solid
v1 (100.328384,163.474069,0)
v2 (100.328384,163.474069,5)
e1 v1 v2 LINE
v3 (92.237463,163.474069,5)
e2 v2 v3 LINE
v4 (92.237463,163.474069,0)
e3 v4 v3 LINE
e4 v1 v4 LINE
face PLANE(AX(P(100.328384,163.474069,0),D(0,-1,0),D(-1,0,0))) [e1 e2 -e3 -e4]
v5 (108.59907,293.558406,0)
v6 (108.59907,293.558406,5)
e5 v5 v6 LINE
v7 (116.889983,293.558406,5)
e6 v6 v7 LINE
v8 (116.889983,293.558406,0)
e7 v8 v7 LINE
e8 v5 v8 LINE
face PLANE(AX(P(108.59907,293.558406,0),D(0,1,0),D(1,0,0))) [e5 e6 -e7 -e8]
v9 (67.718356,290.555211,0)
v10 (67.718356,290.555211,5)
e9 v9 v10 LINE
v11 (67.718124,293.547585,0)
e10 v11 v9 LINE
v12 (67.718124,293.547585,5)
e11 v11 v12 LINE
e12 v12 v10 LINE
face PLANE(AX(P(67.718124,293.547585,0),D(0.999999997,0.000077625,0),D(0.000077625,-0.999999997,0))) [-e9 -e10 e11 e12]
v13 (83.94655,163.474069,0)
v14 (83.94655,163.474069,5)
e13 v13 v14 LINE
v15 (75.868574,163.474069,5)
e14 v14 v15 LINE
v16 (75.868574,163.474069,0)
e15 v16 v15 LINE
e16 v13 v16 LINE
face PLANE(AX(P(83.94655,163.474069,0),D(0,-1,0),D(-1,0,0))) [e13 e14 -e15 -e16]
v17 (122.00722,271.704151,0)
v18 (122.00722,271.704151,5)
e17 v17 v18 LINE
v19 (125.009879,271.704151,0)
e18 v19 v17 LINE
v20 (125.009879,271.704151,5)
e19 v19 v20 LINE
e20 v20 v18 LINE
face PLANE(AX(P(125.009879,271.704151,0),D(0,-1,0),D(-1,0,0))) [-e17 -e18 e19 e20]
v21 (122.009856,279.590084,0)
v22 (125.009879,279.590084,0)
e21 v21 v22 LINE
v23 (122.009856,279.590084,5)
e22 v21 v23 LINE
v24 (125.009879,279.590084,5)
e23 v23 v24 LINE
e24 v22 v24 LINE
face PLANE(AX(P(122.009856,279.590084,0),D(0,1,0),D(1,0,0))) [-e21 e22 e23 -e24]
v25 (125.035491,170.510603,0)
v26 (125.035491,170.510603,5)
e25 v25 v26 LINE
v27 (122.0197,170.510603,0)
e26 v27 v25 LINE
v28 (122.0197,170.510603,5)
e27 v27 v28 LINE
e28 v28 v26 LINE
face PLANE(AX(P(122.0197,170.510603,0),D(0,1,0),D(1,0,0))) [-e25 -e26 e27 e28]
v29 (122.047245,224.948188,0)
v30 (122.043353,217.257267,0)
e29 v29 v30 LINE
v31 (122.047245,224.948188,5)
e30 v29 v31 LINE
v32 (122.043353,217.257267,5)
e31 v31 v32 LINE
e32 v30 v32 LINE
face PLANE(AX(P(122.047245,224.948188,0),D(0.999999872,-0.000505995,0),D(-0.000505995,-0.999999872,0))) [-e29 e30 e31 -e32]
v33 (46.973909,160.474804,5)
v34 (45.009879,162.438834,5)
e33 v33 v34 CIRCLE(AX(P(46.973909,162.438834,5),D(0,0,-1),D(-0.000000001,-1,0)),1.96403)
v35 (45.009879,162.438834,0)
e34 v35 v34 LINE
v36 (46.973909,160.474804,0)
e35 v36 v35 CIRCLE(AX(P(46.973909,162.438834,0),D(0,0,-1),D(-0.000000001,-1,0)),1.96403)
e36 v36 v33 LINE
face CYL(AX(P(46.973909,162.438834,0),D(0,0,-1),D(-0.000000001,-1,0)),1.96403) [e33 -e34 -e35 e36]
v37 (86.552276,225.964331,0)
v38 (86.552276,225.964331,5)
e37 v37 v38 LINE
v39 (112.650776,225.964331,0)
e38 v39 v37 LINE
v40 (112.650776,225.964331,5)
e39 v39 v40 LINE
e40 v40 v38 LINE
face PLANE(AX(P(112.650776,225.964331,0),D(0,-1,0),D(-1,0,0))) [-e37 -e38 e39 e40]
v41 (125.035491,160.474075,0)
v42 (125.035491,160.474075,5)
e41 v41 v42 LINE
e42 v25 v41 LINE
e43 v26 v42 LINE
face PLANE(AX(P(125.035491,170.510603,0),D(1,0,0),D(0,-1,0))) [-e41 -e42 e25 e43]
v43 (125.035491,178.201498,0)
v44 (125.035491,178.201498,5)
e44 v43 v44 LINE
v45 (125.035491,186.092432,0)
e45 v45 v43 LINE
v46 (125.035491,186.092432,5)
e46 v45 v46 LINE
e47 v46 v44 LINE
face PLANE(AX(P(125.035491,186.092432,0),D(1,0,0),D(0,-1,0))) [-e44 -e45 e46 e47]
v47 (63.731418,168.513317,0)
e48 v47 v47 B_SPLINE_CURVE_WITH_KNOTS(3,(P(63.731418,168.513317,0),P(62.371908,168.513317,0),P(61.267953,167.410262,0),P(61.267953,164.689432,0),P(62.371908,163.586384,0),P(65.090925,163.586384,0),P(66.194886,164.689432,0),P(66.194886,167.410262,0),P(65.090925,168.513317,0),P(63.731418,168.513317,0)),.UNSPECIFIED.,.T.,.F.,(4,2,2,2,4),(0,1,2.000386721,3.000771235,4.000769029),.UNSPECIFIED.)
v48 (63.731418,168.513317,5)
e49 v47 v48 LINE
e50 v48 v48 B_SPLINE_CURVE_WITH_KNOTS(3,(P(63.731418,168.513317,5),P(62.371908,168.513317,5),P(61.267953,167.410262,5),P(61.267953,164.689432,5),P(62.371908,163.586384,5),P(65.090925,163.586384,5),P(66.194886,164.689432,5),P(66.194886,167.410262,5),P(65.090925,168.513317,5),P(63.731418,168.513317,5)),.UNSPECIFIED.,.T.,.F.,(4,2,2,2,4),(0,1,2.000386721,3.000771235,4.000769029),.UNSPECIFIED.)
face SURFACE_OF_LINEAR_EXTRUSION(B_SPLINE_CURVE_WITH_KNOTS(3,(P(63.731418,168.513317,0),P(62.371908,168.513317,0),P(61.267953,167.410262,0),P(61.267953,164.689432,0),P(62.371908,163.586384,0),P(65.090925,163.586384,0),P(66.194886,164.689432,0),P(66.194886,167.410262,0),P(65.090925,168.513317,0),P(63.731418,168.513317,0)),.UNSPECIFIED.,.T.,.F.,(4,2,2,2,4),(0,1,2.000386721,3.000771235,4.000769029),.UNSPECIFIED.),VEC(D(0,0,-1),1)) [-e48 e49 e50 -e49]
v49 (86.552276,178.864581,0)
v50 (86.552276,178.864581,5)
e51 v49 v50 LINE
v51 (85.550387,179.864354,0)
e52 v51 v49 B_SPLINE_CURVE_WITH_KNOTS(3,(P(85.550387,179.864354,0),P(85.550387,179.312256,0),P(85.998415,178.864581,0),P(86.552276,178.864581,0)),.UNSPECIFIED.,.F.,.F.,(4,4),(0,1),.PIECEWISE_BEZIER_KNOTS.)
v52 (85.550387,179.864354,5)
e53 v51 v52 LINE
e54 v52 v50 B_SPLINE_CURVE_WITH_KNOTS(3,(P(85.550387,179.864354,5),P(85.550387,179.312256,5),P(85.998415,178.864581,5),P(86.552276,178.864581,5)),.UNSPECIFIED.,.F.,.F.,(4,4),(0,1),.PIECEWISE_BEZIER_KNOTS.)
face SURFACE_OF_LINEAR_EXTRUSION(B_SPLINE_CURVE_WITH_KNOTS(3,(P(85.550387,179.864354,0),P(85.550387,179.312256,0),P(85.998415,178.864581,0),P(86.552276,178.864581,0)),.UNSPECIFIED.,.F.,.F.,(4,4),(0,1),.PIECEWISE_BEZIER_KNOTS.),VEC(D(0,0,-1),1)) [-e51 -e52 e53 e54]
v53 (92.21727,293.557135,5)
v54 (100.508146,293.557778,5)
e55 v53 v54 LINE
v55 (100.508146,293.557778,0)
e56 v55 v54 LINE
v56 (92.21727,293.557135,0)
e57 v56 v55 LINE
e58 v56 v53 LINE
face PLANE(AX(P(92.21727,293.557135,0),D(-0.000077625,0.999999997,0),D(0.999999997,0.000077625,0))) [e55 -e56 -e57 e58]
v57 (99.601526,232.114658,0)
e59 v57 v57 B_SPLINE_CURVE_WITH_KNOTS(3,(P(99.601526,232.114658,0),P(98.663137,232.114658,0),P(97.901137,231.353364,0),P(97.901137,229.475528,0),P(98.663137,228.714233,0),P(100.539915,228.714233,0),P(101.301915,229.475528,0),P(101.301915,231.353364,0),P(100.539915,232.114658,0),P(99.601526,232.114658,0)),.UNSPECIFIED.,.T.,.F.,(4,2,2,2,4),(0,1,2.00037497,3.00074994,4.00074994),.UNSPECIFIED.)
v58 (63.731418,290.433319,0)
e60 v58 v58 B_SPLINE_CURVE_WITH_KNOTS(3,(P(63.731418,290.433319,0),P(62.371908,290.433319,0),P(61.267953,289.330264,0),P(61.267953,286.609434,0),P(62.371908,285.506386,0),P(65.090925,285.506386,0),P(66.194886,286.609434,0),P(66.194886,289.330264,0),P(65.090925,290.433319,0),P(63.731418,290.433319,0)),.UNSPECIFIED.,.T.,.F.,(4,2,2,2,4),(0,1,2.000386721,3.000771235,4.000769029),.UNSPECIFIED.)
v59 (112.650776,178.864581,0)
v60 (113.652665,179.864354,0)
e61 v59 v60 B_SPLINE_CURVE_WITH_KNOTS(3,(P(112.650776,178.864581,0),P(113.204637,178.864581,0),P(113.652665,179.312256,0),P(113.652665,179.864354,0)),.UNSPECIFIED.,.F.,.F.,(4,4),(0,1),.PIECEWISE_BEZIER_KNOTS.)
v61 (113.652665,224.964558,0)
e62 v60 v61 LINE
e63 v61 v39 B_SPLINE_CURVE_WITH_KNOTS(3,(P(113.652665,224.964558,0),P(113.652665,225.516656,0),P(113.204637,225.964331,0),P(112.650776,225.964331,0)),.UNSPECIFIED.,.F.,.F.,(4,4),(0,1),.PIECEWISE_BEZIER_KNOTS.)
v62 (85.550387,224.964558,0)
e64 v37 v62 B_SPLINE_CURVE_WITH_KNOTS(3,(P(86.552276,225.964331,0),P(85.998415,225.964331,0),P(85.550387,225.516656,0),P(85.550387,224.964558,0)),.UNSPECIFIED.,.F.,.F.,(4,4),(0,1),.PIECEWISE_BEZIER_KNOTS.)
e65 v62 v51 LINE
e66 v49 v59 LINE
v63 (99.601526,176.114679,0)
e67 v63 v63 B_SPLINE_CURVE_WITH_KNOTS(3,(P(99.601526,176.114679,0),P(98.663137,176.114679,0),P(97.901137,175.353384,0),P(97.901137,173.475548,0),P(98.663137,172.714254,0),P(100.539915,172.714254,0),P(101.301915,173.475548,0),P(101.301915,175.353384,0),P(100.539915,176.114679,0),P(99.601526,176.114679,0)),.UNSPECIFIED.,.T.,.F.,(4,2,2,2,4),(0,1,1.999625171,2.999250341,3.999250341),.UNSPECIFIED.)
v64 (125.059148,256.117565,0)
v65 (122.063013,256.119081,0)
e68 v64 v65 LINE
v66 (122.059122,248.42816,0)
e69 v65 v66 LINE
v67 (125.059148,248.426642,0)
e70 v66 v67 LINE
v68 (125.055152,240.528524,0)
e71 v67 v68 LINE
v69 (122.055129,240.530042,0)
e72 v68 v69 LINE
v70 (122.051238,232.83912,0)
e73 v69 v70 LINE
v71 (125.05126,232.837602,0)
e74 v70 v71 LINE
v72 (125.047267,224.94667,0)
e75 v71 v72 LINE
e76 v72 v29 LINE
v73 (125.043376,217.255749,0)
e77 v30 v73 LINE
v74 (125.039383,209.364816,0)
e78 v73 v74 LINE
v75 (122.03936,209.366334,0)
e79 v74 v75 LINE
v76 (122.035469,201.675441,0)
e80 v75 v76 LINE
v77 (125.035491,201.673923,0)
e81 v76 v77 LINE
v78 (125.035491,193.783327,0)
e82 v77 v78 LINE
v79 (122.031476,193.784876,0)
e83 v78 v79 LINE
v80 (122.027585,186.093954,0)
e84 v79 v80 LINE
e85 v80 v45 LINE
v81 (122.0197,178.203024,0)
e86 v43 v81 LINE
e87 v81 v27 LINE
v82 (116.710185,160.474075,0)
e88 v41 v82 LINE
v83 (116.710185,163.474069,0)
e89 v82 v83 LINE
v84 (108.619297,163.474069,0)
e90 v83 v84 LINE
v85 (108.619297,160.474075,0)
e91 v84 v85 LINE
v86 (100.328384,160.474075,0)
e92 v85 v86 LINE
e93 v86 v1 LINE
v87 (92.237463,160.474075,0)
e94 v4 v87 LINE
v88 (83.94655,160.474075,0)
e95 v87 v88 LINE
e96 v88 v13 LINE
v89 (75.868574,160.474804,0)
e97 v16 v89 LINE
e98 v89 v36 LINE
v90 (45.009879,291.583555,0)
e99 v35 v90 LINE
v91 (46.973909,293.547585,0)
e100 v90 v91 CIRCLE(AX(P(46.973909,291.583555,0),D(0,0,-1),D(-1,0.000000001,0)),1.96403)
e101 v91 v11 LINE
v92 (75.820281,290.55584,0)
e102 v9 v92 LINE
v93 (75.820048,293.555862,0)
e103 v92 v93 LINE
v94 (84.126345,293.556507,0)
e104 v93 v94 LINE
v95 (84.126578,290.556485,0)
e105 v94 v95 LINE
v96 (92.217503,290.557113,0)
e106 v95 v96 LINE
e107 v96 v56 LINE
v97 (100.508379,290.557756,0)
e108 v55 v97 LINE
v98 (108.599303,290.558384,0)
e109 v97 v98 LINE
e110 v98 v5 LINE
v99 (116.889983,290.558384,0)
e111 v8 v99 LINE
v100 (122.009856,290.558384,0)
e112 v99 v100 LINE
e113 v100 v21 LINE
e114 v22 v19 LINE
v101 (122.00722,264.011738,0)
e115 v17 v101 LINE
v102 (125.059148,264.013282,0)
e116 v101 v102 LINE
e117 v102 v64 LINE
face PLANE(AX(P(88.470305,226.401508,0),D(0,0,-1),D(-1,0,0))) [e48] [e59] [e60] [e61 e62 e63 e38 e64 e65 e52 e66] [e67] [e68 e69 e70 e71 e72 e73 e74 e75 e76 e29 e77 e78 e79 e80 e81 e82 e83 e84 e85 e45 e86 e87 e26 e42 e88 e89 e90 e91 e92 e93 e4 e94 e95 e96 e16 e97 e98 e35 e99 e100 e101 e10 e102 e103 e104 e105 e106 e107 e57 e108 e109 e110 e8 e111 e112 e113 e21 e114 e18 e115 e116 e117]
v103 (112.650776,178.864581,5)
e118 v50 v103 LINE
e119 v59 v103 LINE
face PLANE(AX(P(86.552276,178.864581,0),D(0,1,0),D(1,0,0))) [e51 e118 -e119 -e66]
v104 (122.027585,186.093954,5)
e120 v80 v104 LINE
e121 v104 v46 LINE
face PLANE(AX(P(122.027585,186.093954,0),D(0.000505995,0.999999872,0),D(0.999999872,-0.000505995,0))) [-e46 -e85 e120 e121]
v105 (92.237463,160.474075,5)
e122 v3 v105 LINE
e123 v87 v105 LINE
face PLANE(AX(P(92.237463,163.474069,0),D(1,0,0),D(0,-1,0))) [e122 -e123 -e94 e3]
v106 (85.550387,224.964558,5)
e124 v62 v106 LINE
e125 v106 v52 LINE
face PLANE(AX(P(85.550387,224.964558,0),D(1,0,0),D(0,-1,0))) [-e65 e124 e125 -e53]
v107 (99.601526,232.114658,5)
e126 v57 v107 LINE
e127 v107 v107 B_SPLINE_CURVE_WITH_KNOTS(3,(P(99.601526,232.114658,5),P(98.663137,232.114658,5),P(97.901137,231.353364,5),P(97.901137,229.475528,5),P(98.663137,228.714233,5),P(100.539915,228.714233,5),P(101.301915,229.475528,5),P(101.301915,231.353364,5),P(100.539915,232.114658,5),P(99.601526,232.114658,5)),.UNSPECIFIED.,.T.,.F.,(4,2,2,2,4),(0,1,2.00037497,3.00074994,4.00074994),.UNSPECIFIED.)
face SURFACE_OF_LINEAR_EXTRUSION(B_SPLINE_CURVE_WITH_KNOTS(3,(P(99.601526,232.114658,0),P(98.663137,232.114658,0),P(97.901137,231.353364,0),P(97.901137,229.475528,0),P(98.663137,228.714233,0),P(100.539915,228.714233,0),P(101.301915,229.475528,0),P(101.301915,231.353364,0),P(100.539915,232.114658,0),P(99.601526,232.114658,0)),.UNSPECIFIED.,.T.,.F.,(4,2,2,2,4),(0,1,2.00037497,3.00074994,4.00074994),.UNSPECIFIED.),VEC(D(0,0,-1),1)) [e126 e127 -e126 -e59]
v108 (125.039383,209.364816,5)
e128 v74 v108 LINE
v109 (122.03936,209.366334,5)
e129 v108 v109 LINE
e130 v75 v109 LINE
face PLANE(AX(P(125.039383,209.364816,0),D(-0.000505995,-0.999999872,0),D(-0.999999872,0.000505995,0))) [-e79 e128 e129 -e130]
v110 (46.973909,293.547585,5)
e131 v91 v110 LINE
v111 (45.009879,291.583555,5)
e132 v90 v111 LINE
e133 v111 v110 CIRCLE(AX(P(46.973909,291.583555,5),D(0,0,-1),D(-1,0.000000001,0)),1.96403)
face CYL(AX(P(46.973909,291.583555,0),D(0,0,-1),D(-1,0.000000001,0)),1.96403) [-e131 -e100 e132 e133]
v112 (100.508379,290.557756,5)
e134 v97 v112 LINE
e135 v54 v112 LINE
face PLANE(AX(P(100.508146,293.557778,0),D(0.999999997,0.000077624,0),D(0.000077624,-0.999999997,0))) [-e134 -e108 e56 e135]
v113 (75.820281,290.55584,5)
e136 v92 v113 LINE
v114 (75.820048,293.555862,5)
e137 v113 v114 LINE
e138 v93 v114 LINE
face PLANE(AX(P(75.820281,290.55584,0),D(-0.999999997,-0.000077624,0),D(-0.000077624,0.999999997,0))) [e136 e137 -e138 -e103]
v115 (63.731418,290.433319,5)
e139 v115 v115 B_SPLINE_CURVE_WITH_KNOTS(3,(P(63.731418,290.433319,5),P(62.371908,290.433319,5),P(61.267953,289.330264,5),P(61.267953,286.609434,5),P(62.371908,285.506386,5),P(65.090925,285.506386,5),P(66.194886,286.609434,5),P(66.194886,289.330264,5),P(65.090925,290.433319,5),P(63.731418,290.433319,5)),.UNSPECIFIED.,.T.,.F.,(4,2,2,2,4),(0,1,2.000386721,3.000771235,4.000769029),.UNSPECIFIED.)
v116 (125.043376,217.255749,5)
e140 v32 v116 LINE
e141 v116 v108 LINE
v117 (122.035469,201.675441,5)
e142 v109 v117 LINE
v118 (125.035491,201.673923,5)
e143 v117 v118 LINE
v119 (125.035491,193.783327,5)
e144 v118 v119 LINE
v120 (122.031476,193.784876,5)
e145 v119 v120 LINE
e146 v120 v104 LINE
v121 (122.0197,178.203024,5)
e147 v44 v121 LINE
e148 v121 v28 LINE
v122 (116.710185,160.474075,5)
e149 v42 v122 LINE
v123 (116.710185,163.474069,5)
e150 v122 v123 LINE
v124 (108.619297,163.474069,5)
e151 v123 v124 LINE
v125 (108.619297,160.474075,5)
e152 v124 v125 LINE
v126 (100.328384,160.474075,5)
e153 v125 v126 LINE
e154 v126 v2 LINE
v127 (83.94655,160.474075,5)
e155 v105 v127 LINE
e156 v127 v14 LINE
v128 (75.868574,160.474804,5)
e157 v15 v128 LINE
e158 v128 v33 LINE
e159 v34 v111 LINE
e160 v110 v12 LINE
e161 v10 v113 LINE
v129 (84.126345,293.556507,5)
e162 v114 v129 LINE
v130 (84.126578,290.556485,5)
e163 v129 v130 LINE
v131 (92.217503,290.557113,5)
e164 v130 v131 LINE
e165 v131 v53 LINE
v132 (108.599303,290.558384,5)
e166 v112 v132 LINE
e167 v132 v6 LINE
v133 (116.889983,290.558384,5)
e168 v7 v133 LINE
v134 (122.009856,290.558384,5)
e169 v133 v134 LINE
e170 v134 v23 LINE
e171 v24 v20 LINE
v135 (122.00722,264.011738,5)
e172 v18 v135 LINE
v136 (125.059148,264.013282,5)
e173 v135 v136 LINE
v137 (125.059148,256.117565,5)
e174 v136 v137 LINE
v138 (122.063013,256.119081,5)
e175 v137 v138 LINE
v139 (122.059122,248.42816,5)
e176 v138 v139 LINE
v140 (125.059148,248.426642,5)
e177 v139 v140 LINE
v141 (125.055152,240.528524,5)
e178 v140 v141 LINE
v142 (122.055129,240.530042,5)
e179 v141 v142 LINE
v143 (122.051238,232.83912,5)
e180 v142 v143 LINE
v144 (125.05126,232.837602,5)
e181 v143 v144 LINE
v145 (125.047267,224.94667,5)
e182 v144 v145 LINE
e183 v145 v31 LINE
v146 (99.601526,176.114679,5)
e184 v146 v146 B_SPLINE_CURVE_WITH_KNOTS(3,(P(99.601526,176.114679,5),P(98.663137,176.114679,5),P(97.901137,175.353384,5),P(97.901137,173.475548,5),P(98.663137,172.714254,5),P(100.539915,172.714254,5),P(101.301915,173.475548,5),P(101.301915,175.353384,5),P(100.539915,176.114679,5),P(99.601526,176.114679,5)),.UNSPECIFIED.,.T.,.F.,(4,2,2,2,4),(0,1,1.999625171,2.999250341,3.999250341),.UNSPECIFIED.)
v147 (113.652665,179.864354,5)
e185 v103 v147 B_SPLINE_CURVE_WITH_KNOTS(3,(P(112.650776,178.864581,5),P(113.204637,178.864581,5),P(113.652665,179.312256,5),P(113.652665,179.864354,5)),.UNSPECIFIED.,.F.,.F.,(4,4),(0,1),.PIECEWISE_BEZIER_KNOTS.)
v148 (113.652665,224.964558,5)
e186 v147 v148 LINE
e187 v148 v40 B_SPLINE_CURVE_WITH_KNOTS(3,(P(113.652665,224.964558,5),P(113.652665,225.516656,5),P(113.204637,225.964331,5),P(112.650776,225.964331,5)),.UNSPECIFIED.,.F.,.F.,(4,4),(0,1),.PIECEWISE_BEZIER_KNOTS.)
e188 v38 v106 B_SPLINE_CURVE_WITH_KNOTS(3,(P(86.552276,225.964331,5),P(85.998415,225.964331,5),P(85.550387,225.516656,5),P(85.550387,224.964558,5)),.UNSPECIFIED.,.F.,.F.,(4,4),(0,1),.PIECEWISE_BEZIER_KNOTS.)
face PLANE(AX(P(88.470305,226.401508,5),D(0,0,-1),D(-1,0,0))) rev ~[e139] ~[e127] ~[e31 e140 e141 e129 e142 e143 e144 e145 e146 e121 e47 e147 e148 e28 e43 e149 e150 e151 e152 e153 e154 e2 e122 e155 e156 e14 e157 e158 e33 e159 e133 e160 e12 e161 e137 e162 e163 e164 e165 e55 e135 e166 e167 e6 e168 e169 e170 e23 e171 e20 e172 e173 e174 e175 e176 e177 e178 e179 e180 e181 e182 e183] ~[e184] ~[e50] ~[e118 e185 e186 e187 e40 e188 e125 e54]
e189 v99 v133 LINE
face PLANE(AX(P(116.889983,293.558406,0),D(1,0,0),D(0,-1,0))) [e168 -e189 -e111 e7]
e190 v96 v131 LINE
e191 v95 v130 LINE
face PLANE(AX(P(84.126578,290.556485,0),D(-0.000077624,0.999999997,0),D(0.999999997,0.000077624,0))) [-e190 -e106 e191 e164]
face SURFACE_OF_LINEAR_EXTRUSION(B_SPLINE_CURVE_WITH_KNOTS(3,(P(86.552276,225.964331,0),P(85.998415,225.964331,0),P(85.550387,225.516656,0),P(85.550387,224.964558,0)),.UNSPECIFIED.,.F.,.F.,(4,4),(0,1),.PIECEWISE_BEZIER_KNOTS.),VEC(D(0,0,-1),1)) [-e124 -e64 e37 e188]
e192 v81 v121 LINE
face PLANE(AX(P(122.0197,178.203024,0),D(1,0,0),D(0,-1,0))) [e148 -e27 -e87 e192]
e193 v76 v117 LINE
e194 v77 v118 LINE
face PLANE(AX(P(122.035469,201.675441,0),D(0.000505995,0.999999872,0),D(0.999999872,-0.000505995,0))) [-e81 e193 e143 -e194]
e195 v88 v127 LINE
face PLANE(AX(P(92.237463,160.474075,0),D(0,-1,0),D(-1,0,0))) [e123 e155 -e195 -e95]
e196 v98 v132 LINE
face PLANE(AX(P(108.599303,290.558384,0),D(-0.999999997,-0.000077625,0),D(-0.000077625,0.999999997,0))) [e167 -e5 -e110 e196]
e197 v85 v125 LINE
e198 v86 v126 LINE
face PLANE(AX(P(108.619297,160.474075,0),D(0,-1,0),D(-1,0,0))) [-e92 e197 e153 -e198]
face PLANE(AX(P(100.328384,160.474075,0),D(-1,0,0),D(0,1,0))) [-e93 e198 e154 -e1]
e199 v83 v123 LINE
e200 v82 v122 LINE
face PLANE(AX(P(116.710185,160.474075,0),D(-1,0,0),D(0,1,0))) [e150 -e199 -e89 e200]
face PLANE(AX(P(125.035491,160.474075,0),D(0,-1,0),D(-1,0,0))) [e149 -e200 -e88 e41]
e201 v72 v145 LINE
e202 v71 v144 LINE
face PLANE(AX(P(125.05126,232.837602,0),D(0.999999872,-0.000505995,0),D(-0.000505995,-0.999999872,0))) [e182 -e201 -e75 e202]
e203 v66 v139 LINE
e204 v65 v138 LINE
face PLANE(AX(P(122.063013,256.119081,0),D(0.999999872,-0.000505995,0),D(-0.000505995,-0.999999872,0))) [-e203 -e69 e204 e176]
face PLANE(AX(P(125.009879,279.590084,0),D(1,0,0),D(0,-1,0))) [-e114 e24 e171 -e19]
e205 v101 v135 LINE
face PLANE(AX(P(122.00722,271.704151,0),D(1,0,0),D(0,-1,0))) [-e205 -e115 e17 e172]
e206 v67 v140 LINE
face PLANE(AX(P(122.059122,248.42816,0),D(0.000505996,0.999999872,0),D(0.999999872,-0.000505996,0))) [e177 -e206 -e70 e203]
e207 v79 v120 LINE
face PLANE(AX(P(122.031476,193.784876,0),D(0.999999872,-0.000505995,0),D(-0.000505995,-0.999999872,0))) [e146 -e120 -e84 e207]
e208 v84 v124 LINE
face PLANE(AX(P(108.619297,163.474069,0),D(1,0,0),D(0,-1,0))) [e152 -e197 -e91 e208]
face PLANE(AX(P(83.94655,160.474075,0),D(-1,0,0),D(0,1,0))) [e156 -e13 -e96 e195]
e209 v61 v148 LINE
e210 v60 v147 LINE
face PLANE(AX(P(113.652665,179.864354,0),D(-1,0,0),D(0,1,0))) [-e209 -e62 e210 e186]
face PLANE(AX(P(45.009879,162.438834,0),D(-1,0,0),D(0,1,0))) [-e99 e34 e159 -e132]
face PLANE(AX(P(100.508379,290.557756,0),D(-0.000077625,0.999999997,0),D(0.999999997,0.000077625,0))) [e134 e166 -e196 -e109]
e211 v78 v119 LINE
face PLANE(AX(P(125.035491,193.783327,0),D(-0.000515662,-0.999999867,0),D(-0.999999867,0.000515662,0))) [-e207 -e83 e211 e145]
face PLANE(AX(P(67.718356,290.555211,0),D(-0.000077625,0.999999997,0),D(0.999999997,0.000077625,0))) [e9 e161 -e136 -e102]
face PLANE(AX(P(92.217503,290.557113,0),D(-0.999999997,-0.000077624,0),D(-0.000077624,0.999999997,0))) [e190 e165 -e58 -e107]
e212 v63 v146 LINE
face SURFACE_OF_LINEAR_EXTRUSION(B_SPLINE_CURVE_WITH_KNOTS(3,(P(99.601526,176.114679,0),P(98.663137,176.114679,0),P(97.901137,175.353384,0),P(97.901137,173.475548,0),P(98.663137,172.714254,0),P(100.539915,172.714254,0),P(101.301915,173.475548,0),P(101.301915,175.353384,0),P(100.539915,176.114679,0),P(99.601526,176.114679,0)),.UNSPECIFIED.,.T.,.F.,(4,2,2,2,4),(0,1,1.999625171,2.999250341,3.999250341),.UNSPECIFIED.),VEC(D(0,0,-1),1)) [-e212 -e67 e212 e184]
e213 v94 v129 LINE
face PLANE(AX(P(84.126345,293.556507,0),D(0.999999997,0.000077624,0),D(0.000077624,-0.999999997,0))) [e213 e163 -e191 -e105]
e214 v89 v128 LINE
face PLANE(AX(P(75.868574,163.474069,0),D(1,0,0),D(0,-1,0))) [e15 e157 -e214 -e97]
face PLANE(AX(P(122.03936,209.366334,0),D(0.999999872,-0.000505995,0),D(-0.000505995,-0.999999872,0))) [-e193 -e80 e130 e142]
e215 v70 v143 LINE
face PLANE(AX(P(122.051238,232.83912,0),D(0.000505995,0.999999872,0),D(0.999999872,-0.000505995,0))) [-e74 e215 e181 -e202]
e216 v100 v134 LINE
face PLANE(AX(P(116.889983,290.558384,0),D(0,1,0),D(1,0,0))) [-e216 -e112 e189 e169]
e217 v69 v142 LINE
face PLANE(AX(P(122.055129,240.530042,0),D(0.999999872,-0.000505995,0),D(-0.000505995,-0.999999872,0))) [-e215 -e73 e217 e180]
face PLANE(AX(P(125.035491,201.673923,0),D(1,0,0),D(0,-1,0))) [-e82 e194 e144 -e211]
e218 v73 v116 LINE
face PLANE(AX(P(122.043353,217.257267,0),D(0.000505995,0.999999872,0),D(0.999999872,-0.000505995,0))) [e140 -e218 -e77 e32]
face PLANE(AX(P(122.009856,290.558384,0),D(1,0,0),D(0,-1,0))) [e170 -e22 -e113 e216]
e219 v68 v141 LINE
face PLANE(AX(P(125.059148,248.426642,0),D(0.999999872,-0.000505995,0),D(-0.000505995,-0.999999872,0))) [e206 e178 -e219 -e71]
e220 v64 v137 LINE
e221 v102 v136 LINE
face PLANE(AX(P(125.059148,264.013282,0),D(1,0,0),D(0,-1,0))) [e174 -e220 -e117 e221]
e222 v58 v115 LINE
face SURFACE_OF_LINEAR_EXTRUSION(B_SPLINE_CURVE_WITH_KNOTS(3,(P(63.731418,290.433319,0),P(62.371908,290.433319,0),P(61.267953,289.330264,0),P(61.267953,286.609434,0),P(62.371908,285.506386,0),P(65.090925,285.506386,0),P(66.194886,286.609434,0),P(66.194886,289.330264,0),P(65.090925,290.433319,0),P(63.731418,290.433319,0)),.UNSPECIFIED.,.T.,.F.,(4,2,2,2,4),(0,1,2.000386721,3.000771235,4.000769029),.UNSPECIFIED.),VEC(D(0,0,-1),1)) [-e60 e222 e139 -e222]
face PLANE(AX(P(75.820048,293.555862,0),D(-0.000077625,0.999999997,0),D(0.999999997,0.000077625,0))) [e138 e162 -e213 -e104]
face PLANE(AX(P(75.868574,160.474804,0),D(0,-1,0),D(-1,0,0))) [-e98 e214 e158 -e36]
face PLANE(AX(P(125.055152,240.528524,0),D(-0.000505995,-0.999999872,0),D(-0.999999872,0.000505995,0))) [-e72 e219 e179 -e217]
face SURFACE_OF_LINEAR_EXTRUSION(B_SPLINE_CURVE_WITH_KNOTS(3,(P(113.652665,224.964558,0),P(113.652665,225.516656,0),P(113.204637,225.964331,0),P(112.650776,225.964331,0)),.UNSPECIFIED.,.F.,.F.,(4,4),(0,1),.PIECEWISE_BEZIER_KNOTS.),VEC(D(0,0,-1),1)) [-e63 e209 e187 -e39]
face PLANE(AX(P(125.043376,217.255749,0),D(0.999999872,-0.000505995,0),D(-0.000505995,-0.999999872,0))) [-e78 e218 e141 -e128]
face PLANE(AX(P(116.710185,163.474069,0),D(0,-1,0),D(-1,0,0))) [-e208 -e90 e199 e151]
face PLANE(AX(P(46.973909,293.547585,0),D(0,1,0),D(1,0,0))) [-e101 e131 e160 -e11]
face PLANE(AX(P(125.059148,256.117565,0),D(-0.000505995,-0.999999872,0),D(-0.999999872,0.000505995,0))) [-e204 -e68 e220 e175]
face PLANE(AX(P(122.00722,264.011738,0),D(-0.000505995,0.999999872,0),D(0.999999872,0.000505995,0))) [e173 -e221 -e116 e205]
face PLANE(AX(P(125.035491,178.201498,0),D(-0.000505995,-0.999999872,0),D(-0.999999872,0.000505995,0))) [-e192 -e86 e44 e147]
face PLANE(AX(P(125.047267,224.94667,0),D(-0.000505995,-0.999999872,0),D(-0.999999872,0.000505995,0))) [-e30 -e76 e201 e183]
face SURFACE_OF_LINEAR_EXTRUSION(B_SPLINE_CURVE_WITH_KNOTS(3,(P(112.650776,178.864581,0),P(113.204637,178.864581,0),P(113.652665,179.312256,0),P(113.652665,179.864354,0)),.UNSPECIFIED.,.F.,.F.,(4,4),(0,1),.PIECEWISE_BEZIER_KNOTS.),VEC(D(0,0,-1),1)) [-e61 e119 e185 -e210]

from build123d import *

# Parameters (mm, degrees)
BOSS_EXTRUDE1_DEPTH = 5


with BuildPart() as part:
    # Sketch1 → Boss-Extrude1 (new body)
    with BuildSketch(Plane.XY):
        with BuildLine():
            Line((122.019699995, 170.510603399), (125.035491487, 170.510603399))
            Line((125.035491487, 170.510603399), (125.035491487, 160.474074598))
            Line((125.035491487, 160.474074598), (116.710185498, 160.474074598))
            Line((116.710185498, 160.474074598), (116.710185498, 163.474068598))
            Line((116.710185498, 163.474068598), (108.619297498, 163.474068598))
            Line((108.619297498, 163.474068598), (108.619297498, 160.474074598))
            Line((108.619297498, 160.474074598), (100.328384498, 160.474074598))
            Line((100.328384498, 160.474074598), (100.328384498, 163.474068598))
            Line((100.328384498, 163.474068598), (92.237463498, 163.474068598))
            Line((92.237463498, 163.474068598), (92.237463498, 160.474074598))
            Line((92.237463498, 160.474074598), (83.946550498, 160.474074598))
            Line((83.946550498, 160.474074598), (83.946550498, 163.474068598))
            Line((83.946550498, 163.474068598), (75.868574498, 163.474068598))
            Line((75.868574498, 163.474068598), (75.868574498, 160.474804118))
            Line((75.868574498, 160.474804118), (46.973908888, 160.474804118))
            ThreePointArc((46.973908888, 160.474804118), (45.585129957, 161.050055187), (45.009878888, 162.438834118))
            Line((45.009878888, 162.438834118), (45.009878888, 291.583555118))
            ThreePointArc((45.009878888, 291.583555118), (45.585129957, 292.972334049), (46.973908888, 293.547585118))
            Line((46.973908888, 293.547585118), (67.718123868, 293.547585118))
            Line((67.718123868, 293.547585118), (67.71835615, 290.555211127))
            Line((67.71835615, 290.555211127), (75.820281125, 290.555840035))
            Line((75.820281125, 290.555840035), (75.82004825, 293.555862026))
            Line((75.82004825, 293.555862026), (84.126345225, 293.556506799))
            Line((84.126345225, 293.556506799), (84.1265781, 290.556484808))
            Line((84.1265781, 290.556484808), (92.217503076, 290.557112862))
            Line((92.217503076, 290.557112862), (92.217270201, 293.557134853))
            Line((92.217270201, 293.557134853), (100.508146176, 293.557778429))
            Line((100.508146176, 293.557778429), (100.508379051, 290.557756438))
            Line((100.508379051, 290.557756438), (108.599303027, 290.558384492))
            Line((108.599303027, 290.558384492), (108.599070151, 293.558406483))
            Line((108.599070151, 293.558406483), (116.889983151, 293.558406483))
            Line((116.889983151, 293.558406483), (116.889983151, 290.558384483))
            Line((116.889983151, 290.558384483), (122.009855888, 290.558384483))
            Line((122.009855888, 290.558384483), (122.009855888, 279.590084215))
            Line((122.009855888, 279.590084215), (125.009878888, 279.590084215))
            Line((125.009878888, 279.590084215), (125.009878888, 271.704151215))
            Line((125.009878888, 271.704151215), (122.007220126, 271.704151215))
            Line((122.007220126, 271.704151215), (122.007220126, 264.011738232))
            Line((122.007220126, 264.011738232), (125.059148145, 264.013282494))
            Line((125.059148145, 264.013282494), (125.059148145, 256.117565387))
            Line((125.059148145, 256.117565387), (122.063013449, 256.119081417))
            Line((122.063013449, 256.119081417), (122.059121879, 248.428160402))
            Line((122.059121879, 248.428160402), (125.059148145, 248.426642402))
            Line((125.059148145, 248.426642402), (125.055151734, 240.528524414))
            Line((125.055151734, 240.528524414), (122.055129118, 240.530042412))
            Line((122.055129118, 240.530042412), (122.051237547, 232.839120396))
            Line((122.051237547, 232.839120396), (125.051260163, 232.837602399))
            Line((125.051260163, 232.837602399), (125.047267389, 224.946670409))
            Line((125.047267389, 224.946670409), (122.047244773, 224.948188407))
            Line((122.047244773, 224.948188407), (122.043353202, 217.257267391))
            Line((122.043353202, 217.257267391), (125.043375818, 217.255749394))
            Line((125.043375818, 217.255749394), (125.039383043, 209.364816404))
            Line((125.039383043, 209.364816404), (122.039360427, 209.366334401))
            Line((122.039360427, 209.366334401), (122.035468871, 201.675441386))
            Line((122.035468871, 201.675441386), (125.035491487, 201.673923388))
            Line((125.035491487, 201.673923388), (125.035491487, 193.78332734))
            Line((125.035491487, 193.78332734), (122.031476282, 193.784876396))
            Line((122.031476282, 193.784876396), (122.027584712, 186.09395438))
            Line((122.027584712, 186.09395438), (125.035491487, 186.092432394))
            Line((125.035491487, 186.092432394), (125.035491487, 178.201498384))
            Line((125.035491487, 178.201498384), (122.019699995, 178.20302436))
            Line((122.019699995, 178.20302436), (122.019699995, 170.510603399))
        make_face()
        with BuildLine():
            Line((86.552275995, 178.864581399), (112.650775995, 178.864581399))
            add(Edge.make_bspline(
                [(112.650775995, 178.864581399), (113.204636995, 178.864581399), (113.652664995, 179.312256399), (113.652664995, 179.864354399)],
                knots=[0, 0, 0, 0, 1, 1, 1, 1], degree=3))
            Line((113.652664995, 179.864354399), (113.652664995, 224.964558399))
            add(Edge.make_bspline(
                [(113.652664995, 224.964558399), (113.652664995, 225.516656399), (113.204636995, 225.964331399), (112.650775995, 225.964331399)],
                knots=[0, 0, 0, 0, 1, 1, 1, 1], degree=3))
            Line((112.650775995, 225.964331399), (86.552275995, 225.964331399))
            add(Edge.make_bspline(
                [(86.552275995, 225.964331399), (85.998414995, 225.964331399), (85.550386995, 225.516656399), (85.550386995, 224.964558399)],
                knots=[0, 0, 0, 0, 1, 1, 1, 1], degree=3))
            Line((85.550386995, 224.964558399), (85.550386995, 179.864354399))
            add(Edge.make_bspline(
                [(85.550386995, 179.864354399), (85.550386995, 179.312256399), (85.998414995, 178.864581399), (86.552275995, 178.864581399)],
                knots=[0, 0, 0, 0, 1, 1, 1, 1], degree=3))
        make_face(mode=Mode.SUBTRACT)
        with BuildLine():
            add(Edge.make_bspline(
                [(97.901136995, 230.414622399), (97.901136995, 229.475528399), (98.663136995, 228.714233399), (99.601525995, 228.714233399)],
                knots=[0, 0, 0, 0, 1, 1, 1, 1], degree=3))
            add(Edge.make_bspline(
                [(99.601525995, 228.714233399), (100.539914995, 228.714233399), (101.301914995, 229.475528399), (101.301914995, 230.414622399)],
                knots=[0, 0, 0, 0, 1, 1, 1, 1], degree=3))
            add(Edge.make_bspline(
                [(101.301914995, 230.414622399), (101.301914995, 231.353364399), (100.539914995, 232.114658399), (99.601525995, 232.114658399)],
                knots=[0, 0, 0, 0, 1, 1, 1, 1], degree=3))
            add(Edge.make_bspline(
                [(99.601525995, 232.114658399), (98.663136995, 232.114658399), (97.901136995, 231.353364399), (97.901136995, 230.414622399)],
                knots=[0, 0, 0, 0, 1, 1, 1, 1], degree=3))
        make_face(mode=Mode.SUBTRACT)
        with BuildLine():
            add(Edge.make_bspline(
                [(97.901136995, 174.414290399), (97.901136995, 173.475548399), (98.663136995, 172.714254399), (99.601525995, 172.714254399)],
                knots=[0, 0, 0, 0, 1, 1, 1, 1], degree=3))
            add(Edge.make_bspline(
                [(99.601525995, 172.714254399), (100.539914995, 172.714254399), (101.301914995, 173.475548399), (101.301914995, 174.414290399)],
                knots=[0, 0, 0, 0, 1, 1, 1, 1], degree=3))
            add(Edge.make_bspline(
                [(101.301914995, 174.414290399), (101.301914995, 175.353384399), (100.539914995, 176.114679399), (99.601525995, 176.114679399)],
                knots=[0, 0, 0, 0, 1, 1, 1, 1], degree=3))
            add(Edge.make_bspline(
                [(99.601525995, 176.114679399), (98.663136995, 176.114679399), (97.901136995, 175.353384399), (97.901136995, 174.414290399)],
                knots=[0, 0, 0, 0, 1, 1, 1, 1], degree=3))
        make_face(mode=Mode.SUBTRACT)
        with BuildLine():
            add(Edge.make_bspline(
                [(61.267952995, 166.050110399), (61.267952995, 164.689432399), (62.371907995, 163.586384399), (63.731417995, 163.586384399)],
                knots=[0, 0, 0, 0, 1, 1, 1, 1], degree=3))
            add(Edge.make_bspline(
                [(63.731417995, 163.586384399), (65.090924995, 163.586384399), (66.194885995, 164.689432399), (66.194885995, 166.050110399)],
                knots=[0, 0, 0, 0, 1, 1, 1, 1], degree=3))
            add(Edge.make_bspline(
                [(66.194885995, 166.050110399), (66.194885995, 167.410262399), (65.090924995, 168.513317399), (63.731417995, 168.513317399)],
                knots=[0, 0, 0, 0, 1, 1, 1, 1], degree=3))
            add(Edge.make_bspline(
                [(63.731417995, 168.513317399), (62.371907995, 168.513317399), (61.267952995, 167.410262399), (61.267952995, 166.050110399)],
                knots=[0, 0, 0, 0, 1, 1, 1, 1], degree=3))
        make_face(mode=Mode.SUBTRACT)
        with BuildLine():
            add(Edge.make_bspline(
                [(61.267952995, 287.970112399), (61.267952995, 286.609434399), (62.371907995, 285.506386399), (63.731417995, 285.506386399)],
                knots=[0, 0, 0, 0, 1, 1, 1, 1], degree=3))
            add(Edge.make_bspline(
                [(63.731417995, 285.506386399), (65.090924995, 285.506386399), (66.194885995, 286.609434399), (66.194885995, 287.970112399)],
                knots=[0, 0, 0, 0, 1, 1, 1, 1], degree=3))
            add(Edge.make_bspline(
                [(66.194885995, 287.970112399), (66.194885995, 289.330264399), (65.090924995, 290.433319399), (63.731417995, 290.433319399)],
                knots=[0, 0, 0, 0, 1, 1, 1, 1], degree=3))
            add(Edge.make_bspline(
                [(63.731417995, 290.433319399), (62.371907995, 290.433319399), (61.267952995, 289.330264399), (61.267952995, 287.970112399)],
                knots=[0, 0, 0, 0, 1, 1, 1, 1], degree=3))
        make_face(mode=Mode.SUBTRACT)
    extrude(amount=BOSS_EXTRUDE1_DEPTH)


solid = part.part
